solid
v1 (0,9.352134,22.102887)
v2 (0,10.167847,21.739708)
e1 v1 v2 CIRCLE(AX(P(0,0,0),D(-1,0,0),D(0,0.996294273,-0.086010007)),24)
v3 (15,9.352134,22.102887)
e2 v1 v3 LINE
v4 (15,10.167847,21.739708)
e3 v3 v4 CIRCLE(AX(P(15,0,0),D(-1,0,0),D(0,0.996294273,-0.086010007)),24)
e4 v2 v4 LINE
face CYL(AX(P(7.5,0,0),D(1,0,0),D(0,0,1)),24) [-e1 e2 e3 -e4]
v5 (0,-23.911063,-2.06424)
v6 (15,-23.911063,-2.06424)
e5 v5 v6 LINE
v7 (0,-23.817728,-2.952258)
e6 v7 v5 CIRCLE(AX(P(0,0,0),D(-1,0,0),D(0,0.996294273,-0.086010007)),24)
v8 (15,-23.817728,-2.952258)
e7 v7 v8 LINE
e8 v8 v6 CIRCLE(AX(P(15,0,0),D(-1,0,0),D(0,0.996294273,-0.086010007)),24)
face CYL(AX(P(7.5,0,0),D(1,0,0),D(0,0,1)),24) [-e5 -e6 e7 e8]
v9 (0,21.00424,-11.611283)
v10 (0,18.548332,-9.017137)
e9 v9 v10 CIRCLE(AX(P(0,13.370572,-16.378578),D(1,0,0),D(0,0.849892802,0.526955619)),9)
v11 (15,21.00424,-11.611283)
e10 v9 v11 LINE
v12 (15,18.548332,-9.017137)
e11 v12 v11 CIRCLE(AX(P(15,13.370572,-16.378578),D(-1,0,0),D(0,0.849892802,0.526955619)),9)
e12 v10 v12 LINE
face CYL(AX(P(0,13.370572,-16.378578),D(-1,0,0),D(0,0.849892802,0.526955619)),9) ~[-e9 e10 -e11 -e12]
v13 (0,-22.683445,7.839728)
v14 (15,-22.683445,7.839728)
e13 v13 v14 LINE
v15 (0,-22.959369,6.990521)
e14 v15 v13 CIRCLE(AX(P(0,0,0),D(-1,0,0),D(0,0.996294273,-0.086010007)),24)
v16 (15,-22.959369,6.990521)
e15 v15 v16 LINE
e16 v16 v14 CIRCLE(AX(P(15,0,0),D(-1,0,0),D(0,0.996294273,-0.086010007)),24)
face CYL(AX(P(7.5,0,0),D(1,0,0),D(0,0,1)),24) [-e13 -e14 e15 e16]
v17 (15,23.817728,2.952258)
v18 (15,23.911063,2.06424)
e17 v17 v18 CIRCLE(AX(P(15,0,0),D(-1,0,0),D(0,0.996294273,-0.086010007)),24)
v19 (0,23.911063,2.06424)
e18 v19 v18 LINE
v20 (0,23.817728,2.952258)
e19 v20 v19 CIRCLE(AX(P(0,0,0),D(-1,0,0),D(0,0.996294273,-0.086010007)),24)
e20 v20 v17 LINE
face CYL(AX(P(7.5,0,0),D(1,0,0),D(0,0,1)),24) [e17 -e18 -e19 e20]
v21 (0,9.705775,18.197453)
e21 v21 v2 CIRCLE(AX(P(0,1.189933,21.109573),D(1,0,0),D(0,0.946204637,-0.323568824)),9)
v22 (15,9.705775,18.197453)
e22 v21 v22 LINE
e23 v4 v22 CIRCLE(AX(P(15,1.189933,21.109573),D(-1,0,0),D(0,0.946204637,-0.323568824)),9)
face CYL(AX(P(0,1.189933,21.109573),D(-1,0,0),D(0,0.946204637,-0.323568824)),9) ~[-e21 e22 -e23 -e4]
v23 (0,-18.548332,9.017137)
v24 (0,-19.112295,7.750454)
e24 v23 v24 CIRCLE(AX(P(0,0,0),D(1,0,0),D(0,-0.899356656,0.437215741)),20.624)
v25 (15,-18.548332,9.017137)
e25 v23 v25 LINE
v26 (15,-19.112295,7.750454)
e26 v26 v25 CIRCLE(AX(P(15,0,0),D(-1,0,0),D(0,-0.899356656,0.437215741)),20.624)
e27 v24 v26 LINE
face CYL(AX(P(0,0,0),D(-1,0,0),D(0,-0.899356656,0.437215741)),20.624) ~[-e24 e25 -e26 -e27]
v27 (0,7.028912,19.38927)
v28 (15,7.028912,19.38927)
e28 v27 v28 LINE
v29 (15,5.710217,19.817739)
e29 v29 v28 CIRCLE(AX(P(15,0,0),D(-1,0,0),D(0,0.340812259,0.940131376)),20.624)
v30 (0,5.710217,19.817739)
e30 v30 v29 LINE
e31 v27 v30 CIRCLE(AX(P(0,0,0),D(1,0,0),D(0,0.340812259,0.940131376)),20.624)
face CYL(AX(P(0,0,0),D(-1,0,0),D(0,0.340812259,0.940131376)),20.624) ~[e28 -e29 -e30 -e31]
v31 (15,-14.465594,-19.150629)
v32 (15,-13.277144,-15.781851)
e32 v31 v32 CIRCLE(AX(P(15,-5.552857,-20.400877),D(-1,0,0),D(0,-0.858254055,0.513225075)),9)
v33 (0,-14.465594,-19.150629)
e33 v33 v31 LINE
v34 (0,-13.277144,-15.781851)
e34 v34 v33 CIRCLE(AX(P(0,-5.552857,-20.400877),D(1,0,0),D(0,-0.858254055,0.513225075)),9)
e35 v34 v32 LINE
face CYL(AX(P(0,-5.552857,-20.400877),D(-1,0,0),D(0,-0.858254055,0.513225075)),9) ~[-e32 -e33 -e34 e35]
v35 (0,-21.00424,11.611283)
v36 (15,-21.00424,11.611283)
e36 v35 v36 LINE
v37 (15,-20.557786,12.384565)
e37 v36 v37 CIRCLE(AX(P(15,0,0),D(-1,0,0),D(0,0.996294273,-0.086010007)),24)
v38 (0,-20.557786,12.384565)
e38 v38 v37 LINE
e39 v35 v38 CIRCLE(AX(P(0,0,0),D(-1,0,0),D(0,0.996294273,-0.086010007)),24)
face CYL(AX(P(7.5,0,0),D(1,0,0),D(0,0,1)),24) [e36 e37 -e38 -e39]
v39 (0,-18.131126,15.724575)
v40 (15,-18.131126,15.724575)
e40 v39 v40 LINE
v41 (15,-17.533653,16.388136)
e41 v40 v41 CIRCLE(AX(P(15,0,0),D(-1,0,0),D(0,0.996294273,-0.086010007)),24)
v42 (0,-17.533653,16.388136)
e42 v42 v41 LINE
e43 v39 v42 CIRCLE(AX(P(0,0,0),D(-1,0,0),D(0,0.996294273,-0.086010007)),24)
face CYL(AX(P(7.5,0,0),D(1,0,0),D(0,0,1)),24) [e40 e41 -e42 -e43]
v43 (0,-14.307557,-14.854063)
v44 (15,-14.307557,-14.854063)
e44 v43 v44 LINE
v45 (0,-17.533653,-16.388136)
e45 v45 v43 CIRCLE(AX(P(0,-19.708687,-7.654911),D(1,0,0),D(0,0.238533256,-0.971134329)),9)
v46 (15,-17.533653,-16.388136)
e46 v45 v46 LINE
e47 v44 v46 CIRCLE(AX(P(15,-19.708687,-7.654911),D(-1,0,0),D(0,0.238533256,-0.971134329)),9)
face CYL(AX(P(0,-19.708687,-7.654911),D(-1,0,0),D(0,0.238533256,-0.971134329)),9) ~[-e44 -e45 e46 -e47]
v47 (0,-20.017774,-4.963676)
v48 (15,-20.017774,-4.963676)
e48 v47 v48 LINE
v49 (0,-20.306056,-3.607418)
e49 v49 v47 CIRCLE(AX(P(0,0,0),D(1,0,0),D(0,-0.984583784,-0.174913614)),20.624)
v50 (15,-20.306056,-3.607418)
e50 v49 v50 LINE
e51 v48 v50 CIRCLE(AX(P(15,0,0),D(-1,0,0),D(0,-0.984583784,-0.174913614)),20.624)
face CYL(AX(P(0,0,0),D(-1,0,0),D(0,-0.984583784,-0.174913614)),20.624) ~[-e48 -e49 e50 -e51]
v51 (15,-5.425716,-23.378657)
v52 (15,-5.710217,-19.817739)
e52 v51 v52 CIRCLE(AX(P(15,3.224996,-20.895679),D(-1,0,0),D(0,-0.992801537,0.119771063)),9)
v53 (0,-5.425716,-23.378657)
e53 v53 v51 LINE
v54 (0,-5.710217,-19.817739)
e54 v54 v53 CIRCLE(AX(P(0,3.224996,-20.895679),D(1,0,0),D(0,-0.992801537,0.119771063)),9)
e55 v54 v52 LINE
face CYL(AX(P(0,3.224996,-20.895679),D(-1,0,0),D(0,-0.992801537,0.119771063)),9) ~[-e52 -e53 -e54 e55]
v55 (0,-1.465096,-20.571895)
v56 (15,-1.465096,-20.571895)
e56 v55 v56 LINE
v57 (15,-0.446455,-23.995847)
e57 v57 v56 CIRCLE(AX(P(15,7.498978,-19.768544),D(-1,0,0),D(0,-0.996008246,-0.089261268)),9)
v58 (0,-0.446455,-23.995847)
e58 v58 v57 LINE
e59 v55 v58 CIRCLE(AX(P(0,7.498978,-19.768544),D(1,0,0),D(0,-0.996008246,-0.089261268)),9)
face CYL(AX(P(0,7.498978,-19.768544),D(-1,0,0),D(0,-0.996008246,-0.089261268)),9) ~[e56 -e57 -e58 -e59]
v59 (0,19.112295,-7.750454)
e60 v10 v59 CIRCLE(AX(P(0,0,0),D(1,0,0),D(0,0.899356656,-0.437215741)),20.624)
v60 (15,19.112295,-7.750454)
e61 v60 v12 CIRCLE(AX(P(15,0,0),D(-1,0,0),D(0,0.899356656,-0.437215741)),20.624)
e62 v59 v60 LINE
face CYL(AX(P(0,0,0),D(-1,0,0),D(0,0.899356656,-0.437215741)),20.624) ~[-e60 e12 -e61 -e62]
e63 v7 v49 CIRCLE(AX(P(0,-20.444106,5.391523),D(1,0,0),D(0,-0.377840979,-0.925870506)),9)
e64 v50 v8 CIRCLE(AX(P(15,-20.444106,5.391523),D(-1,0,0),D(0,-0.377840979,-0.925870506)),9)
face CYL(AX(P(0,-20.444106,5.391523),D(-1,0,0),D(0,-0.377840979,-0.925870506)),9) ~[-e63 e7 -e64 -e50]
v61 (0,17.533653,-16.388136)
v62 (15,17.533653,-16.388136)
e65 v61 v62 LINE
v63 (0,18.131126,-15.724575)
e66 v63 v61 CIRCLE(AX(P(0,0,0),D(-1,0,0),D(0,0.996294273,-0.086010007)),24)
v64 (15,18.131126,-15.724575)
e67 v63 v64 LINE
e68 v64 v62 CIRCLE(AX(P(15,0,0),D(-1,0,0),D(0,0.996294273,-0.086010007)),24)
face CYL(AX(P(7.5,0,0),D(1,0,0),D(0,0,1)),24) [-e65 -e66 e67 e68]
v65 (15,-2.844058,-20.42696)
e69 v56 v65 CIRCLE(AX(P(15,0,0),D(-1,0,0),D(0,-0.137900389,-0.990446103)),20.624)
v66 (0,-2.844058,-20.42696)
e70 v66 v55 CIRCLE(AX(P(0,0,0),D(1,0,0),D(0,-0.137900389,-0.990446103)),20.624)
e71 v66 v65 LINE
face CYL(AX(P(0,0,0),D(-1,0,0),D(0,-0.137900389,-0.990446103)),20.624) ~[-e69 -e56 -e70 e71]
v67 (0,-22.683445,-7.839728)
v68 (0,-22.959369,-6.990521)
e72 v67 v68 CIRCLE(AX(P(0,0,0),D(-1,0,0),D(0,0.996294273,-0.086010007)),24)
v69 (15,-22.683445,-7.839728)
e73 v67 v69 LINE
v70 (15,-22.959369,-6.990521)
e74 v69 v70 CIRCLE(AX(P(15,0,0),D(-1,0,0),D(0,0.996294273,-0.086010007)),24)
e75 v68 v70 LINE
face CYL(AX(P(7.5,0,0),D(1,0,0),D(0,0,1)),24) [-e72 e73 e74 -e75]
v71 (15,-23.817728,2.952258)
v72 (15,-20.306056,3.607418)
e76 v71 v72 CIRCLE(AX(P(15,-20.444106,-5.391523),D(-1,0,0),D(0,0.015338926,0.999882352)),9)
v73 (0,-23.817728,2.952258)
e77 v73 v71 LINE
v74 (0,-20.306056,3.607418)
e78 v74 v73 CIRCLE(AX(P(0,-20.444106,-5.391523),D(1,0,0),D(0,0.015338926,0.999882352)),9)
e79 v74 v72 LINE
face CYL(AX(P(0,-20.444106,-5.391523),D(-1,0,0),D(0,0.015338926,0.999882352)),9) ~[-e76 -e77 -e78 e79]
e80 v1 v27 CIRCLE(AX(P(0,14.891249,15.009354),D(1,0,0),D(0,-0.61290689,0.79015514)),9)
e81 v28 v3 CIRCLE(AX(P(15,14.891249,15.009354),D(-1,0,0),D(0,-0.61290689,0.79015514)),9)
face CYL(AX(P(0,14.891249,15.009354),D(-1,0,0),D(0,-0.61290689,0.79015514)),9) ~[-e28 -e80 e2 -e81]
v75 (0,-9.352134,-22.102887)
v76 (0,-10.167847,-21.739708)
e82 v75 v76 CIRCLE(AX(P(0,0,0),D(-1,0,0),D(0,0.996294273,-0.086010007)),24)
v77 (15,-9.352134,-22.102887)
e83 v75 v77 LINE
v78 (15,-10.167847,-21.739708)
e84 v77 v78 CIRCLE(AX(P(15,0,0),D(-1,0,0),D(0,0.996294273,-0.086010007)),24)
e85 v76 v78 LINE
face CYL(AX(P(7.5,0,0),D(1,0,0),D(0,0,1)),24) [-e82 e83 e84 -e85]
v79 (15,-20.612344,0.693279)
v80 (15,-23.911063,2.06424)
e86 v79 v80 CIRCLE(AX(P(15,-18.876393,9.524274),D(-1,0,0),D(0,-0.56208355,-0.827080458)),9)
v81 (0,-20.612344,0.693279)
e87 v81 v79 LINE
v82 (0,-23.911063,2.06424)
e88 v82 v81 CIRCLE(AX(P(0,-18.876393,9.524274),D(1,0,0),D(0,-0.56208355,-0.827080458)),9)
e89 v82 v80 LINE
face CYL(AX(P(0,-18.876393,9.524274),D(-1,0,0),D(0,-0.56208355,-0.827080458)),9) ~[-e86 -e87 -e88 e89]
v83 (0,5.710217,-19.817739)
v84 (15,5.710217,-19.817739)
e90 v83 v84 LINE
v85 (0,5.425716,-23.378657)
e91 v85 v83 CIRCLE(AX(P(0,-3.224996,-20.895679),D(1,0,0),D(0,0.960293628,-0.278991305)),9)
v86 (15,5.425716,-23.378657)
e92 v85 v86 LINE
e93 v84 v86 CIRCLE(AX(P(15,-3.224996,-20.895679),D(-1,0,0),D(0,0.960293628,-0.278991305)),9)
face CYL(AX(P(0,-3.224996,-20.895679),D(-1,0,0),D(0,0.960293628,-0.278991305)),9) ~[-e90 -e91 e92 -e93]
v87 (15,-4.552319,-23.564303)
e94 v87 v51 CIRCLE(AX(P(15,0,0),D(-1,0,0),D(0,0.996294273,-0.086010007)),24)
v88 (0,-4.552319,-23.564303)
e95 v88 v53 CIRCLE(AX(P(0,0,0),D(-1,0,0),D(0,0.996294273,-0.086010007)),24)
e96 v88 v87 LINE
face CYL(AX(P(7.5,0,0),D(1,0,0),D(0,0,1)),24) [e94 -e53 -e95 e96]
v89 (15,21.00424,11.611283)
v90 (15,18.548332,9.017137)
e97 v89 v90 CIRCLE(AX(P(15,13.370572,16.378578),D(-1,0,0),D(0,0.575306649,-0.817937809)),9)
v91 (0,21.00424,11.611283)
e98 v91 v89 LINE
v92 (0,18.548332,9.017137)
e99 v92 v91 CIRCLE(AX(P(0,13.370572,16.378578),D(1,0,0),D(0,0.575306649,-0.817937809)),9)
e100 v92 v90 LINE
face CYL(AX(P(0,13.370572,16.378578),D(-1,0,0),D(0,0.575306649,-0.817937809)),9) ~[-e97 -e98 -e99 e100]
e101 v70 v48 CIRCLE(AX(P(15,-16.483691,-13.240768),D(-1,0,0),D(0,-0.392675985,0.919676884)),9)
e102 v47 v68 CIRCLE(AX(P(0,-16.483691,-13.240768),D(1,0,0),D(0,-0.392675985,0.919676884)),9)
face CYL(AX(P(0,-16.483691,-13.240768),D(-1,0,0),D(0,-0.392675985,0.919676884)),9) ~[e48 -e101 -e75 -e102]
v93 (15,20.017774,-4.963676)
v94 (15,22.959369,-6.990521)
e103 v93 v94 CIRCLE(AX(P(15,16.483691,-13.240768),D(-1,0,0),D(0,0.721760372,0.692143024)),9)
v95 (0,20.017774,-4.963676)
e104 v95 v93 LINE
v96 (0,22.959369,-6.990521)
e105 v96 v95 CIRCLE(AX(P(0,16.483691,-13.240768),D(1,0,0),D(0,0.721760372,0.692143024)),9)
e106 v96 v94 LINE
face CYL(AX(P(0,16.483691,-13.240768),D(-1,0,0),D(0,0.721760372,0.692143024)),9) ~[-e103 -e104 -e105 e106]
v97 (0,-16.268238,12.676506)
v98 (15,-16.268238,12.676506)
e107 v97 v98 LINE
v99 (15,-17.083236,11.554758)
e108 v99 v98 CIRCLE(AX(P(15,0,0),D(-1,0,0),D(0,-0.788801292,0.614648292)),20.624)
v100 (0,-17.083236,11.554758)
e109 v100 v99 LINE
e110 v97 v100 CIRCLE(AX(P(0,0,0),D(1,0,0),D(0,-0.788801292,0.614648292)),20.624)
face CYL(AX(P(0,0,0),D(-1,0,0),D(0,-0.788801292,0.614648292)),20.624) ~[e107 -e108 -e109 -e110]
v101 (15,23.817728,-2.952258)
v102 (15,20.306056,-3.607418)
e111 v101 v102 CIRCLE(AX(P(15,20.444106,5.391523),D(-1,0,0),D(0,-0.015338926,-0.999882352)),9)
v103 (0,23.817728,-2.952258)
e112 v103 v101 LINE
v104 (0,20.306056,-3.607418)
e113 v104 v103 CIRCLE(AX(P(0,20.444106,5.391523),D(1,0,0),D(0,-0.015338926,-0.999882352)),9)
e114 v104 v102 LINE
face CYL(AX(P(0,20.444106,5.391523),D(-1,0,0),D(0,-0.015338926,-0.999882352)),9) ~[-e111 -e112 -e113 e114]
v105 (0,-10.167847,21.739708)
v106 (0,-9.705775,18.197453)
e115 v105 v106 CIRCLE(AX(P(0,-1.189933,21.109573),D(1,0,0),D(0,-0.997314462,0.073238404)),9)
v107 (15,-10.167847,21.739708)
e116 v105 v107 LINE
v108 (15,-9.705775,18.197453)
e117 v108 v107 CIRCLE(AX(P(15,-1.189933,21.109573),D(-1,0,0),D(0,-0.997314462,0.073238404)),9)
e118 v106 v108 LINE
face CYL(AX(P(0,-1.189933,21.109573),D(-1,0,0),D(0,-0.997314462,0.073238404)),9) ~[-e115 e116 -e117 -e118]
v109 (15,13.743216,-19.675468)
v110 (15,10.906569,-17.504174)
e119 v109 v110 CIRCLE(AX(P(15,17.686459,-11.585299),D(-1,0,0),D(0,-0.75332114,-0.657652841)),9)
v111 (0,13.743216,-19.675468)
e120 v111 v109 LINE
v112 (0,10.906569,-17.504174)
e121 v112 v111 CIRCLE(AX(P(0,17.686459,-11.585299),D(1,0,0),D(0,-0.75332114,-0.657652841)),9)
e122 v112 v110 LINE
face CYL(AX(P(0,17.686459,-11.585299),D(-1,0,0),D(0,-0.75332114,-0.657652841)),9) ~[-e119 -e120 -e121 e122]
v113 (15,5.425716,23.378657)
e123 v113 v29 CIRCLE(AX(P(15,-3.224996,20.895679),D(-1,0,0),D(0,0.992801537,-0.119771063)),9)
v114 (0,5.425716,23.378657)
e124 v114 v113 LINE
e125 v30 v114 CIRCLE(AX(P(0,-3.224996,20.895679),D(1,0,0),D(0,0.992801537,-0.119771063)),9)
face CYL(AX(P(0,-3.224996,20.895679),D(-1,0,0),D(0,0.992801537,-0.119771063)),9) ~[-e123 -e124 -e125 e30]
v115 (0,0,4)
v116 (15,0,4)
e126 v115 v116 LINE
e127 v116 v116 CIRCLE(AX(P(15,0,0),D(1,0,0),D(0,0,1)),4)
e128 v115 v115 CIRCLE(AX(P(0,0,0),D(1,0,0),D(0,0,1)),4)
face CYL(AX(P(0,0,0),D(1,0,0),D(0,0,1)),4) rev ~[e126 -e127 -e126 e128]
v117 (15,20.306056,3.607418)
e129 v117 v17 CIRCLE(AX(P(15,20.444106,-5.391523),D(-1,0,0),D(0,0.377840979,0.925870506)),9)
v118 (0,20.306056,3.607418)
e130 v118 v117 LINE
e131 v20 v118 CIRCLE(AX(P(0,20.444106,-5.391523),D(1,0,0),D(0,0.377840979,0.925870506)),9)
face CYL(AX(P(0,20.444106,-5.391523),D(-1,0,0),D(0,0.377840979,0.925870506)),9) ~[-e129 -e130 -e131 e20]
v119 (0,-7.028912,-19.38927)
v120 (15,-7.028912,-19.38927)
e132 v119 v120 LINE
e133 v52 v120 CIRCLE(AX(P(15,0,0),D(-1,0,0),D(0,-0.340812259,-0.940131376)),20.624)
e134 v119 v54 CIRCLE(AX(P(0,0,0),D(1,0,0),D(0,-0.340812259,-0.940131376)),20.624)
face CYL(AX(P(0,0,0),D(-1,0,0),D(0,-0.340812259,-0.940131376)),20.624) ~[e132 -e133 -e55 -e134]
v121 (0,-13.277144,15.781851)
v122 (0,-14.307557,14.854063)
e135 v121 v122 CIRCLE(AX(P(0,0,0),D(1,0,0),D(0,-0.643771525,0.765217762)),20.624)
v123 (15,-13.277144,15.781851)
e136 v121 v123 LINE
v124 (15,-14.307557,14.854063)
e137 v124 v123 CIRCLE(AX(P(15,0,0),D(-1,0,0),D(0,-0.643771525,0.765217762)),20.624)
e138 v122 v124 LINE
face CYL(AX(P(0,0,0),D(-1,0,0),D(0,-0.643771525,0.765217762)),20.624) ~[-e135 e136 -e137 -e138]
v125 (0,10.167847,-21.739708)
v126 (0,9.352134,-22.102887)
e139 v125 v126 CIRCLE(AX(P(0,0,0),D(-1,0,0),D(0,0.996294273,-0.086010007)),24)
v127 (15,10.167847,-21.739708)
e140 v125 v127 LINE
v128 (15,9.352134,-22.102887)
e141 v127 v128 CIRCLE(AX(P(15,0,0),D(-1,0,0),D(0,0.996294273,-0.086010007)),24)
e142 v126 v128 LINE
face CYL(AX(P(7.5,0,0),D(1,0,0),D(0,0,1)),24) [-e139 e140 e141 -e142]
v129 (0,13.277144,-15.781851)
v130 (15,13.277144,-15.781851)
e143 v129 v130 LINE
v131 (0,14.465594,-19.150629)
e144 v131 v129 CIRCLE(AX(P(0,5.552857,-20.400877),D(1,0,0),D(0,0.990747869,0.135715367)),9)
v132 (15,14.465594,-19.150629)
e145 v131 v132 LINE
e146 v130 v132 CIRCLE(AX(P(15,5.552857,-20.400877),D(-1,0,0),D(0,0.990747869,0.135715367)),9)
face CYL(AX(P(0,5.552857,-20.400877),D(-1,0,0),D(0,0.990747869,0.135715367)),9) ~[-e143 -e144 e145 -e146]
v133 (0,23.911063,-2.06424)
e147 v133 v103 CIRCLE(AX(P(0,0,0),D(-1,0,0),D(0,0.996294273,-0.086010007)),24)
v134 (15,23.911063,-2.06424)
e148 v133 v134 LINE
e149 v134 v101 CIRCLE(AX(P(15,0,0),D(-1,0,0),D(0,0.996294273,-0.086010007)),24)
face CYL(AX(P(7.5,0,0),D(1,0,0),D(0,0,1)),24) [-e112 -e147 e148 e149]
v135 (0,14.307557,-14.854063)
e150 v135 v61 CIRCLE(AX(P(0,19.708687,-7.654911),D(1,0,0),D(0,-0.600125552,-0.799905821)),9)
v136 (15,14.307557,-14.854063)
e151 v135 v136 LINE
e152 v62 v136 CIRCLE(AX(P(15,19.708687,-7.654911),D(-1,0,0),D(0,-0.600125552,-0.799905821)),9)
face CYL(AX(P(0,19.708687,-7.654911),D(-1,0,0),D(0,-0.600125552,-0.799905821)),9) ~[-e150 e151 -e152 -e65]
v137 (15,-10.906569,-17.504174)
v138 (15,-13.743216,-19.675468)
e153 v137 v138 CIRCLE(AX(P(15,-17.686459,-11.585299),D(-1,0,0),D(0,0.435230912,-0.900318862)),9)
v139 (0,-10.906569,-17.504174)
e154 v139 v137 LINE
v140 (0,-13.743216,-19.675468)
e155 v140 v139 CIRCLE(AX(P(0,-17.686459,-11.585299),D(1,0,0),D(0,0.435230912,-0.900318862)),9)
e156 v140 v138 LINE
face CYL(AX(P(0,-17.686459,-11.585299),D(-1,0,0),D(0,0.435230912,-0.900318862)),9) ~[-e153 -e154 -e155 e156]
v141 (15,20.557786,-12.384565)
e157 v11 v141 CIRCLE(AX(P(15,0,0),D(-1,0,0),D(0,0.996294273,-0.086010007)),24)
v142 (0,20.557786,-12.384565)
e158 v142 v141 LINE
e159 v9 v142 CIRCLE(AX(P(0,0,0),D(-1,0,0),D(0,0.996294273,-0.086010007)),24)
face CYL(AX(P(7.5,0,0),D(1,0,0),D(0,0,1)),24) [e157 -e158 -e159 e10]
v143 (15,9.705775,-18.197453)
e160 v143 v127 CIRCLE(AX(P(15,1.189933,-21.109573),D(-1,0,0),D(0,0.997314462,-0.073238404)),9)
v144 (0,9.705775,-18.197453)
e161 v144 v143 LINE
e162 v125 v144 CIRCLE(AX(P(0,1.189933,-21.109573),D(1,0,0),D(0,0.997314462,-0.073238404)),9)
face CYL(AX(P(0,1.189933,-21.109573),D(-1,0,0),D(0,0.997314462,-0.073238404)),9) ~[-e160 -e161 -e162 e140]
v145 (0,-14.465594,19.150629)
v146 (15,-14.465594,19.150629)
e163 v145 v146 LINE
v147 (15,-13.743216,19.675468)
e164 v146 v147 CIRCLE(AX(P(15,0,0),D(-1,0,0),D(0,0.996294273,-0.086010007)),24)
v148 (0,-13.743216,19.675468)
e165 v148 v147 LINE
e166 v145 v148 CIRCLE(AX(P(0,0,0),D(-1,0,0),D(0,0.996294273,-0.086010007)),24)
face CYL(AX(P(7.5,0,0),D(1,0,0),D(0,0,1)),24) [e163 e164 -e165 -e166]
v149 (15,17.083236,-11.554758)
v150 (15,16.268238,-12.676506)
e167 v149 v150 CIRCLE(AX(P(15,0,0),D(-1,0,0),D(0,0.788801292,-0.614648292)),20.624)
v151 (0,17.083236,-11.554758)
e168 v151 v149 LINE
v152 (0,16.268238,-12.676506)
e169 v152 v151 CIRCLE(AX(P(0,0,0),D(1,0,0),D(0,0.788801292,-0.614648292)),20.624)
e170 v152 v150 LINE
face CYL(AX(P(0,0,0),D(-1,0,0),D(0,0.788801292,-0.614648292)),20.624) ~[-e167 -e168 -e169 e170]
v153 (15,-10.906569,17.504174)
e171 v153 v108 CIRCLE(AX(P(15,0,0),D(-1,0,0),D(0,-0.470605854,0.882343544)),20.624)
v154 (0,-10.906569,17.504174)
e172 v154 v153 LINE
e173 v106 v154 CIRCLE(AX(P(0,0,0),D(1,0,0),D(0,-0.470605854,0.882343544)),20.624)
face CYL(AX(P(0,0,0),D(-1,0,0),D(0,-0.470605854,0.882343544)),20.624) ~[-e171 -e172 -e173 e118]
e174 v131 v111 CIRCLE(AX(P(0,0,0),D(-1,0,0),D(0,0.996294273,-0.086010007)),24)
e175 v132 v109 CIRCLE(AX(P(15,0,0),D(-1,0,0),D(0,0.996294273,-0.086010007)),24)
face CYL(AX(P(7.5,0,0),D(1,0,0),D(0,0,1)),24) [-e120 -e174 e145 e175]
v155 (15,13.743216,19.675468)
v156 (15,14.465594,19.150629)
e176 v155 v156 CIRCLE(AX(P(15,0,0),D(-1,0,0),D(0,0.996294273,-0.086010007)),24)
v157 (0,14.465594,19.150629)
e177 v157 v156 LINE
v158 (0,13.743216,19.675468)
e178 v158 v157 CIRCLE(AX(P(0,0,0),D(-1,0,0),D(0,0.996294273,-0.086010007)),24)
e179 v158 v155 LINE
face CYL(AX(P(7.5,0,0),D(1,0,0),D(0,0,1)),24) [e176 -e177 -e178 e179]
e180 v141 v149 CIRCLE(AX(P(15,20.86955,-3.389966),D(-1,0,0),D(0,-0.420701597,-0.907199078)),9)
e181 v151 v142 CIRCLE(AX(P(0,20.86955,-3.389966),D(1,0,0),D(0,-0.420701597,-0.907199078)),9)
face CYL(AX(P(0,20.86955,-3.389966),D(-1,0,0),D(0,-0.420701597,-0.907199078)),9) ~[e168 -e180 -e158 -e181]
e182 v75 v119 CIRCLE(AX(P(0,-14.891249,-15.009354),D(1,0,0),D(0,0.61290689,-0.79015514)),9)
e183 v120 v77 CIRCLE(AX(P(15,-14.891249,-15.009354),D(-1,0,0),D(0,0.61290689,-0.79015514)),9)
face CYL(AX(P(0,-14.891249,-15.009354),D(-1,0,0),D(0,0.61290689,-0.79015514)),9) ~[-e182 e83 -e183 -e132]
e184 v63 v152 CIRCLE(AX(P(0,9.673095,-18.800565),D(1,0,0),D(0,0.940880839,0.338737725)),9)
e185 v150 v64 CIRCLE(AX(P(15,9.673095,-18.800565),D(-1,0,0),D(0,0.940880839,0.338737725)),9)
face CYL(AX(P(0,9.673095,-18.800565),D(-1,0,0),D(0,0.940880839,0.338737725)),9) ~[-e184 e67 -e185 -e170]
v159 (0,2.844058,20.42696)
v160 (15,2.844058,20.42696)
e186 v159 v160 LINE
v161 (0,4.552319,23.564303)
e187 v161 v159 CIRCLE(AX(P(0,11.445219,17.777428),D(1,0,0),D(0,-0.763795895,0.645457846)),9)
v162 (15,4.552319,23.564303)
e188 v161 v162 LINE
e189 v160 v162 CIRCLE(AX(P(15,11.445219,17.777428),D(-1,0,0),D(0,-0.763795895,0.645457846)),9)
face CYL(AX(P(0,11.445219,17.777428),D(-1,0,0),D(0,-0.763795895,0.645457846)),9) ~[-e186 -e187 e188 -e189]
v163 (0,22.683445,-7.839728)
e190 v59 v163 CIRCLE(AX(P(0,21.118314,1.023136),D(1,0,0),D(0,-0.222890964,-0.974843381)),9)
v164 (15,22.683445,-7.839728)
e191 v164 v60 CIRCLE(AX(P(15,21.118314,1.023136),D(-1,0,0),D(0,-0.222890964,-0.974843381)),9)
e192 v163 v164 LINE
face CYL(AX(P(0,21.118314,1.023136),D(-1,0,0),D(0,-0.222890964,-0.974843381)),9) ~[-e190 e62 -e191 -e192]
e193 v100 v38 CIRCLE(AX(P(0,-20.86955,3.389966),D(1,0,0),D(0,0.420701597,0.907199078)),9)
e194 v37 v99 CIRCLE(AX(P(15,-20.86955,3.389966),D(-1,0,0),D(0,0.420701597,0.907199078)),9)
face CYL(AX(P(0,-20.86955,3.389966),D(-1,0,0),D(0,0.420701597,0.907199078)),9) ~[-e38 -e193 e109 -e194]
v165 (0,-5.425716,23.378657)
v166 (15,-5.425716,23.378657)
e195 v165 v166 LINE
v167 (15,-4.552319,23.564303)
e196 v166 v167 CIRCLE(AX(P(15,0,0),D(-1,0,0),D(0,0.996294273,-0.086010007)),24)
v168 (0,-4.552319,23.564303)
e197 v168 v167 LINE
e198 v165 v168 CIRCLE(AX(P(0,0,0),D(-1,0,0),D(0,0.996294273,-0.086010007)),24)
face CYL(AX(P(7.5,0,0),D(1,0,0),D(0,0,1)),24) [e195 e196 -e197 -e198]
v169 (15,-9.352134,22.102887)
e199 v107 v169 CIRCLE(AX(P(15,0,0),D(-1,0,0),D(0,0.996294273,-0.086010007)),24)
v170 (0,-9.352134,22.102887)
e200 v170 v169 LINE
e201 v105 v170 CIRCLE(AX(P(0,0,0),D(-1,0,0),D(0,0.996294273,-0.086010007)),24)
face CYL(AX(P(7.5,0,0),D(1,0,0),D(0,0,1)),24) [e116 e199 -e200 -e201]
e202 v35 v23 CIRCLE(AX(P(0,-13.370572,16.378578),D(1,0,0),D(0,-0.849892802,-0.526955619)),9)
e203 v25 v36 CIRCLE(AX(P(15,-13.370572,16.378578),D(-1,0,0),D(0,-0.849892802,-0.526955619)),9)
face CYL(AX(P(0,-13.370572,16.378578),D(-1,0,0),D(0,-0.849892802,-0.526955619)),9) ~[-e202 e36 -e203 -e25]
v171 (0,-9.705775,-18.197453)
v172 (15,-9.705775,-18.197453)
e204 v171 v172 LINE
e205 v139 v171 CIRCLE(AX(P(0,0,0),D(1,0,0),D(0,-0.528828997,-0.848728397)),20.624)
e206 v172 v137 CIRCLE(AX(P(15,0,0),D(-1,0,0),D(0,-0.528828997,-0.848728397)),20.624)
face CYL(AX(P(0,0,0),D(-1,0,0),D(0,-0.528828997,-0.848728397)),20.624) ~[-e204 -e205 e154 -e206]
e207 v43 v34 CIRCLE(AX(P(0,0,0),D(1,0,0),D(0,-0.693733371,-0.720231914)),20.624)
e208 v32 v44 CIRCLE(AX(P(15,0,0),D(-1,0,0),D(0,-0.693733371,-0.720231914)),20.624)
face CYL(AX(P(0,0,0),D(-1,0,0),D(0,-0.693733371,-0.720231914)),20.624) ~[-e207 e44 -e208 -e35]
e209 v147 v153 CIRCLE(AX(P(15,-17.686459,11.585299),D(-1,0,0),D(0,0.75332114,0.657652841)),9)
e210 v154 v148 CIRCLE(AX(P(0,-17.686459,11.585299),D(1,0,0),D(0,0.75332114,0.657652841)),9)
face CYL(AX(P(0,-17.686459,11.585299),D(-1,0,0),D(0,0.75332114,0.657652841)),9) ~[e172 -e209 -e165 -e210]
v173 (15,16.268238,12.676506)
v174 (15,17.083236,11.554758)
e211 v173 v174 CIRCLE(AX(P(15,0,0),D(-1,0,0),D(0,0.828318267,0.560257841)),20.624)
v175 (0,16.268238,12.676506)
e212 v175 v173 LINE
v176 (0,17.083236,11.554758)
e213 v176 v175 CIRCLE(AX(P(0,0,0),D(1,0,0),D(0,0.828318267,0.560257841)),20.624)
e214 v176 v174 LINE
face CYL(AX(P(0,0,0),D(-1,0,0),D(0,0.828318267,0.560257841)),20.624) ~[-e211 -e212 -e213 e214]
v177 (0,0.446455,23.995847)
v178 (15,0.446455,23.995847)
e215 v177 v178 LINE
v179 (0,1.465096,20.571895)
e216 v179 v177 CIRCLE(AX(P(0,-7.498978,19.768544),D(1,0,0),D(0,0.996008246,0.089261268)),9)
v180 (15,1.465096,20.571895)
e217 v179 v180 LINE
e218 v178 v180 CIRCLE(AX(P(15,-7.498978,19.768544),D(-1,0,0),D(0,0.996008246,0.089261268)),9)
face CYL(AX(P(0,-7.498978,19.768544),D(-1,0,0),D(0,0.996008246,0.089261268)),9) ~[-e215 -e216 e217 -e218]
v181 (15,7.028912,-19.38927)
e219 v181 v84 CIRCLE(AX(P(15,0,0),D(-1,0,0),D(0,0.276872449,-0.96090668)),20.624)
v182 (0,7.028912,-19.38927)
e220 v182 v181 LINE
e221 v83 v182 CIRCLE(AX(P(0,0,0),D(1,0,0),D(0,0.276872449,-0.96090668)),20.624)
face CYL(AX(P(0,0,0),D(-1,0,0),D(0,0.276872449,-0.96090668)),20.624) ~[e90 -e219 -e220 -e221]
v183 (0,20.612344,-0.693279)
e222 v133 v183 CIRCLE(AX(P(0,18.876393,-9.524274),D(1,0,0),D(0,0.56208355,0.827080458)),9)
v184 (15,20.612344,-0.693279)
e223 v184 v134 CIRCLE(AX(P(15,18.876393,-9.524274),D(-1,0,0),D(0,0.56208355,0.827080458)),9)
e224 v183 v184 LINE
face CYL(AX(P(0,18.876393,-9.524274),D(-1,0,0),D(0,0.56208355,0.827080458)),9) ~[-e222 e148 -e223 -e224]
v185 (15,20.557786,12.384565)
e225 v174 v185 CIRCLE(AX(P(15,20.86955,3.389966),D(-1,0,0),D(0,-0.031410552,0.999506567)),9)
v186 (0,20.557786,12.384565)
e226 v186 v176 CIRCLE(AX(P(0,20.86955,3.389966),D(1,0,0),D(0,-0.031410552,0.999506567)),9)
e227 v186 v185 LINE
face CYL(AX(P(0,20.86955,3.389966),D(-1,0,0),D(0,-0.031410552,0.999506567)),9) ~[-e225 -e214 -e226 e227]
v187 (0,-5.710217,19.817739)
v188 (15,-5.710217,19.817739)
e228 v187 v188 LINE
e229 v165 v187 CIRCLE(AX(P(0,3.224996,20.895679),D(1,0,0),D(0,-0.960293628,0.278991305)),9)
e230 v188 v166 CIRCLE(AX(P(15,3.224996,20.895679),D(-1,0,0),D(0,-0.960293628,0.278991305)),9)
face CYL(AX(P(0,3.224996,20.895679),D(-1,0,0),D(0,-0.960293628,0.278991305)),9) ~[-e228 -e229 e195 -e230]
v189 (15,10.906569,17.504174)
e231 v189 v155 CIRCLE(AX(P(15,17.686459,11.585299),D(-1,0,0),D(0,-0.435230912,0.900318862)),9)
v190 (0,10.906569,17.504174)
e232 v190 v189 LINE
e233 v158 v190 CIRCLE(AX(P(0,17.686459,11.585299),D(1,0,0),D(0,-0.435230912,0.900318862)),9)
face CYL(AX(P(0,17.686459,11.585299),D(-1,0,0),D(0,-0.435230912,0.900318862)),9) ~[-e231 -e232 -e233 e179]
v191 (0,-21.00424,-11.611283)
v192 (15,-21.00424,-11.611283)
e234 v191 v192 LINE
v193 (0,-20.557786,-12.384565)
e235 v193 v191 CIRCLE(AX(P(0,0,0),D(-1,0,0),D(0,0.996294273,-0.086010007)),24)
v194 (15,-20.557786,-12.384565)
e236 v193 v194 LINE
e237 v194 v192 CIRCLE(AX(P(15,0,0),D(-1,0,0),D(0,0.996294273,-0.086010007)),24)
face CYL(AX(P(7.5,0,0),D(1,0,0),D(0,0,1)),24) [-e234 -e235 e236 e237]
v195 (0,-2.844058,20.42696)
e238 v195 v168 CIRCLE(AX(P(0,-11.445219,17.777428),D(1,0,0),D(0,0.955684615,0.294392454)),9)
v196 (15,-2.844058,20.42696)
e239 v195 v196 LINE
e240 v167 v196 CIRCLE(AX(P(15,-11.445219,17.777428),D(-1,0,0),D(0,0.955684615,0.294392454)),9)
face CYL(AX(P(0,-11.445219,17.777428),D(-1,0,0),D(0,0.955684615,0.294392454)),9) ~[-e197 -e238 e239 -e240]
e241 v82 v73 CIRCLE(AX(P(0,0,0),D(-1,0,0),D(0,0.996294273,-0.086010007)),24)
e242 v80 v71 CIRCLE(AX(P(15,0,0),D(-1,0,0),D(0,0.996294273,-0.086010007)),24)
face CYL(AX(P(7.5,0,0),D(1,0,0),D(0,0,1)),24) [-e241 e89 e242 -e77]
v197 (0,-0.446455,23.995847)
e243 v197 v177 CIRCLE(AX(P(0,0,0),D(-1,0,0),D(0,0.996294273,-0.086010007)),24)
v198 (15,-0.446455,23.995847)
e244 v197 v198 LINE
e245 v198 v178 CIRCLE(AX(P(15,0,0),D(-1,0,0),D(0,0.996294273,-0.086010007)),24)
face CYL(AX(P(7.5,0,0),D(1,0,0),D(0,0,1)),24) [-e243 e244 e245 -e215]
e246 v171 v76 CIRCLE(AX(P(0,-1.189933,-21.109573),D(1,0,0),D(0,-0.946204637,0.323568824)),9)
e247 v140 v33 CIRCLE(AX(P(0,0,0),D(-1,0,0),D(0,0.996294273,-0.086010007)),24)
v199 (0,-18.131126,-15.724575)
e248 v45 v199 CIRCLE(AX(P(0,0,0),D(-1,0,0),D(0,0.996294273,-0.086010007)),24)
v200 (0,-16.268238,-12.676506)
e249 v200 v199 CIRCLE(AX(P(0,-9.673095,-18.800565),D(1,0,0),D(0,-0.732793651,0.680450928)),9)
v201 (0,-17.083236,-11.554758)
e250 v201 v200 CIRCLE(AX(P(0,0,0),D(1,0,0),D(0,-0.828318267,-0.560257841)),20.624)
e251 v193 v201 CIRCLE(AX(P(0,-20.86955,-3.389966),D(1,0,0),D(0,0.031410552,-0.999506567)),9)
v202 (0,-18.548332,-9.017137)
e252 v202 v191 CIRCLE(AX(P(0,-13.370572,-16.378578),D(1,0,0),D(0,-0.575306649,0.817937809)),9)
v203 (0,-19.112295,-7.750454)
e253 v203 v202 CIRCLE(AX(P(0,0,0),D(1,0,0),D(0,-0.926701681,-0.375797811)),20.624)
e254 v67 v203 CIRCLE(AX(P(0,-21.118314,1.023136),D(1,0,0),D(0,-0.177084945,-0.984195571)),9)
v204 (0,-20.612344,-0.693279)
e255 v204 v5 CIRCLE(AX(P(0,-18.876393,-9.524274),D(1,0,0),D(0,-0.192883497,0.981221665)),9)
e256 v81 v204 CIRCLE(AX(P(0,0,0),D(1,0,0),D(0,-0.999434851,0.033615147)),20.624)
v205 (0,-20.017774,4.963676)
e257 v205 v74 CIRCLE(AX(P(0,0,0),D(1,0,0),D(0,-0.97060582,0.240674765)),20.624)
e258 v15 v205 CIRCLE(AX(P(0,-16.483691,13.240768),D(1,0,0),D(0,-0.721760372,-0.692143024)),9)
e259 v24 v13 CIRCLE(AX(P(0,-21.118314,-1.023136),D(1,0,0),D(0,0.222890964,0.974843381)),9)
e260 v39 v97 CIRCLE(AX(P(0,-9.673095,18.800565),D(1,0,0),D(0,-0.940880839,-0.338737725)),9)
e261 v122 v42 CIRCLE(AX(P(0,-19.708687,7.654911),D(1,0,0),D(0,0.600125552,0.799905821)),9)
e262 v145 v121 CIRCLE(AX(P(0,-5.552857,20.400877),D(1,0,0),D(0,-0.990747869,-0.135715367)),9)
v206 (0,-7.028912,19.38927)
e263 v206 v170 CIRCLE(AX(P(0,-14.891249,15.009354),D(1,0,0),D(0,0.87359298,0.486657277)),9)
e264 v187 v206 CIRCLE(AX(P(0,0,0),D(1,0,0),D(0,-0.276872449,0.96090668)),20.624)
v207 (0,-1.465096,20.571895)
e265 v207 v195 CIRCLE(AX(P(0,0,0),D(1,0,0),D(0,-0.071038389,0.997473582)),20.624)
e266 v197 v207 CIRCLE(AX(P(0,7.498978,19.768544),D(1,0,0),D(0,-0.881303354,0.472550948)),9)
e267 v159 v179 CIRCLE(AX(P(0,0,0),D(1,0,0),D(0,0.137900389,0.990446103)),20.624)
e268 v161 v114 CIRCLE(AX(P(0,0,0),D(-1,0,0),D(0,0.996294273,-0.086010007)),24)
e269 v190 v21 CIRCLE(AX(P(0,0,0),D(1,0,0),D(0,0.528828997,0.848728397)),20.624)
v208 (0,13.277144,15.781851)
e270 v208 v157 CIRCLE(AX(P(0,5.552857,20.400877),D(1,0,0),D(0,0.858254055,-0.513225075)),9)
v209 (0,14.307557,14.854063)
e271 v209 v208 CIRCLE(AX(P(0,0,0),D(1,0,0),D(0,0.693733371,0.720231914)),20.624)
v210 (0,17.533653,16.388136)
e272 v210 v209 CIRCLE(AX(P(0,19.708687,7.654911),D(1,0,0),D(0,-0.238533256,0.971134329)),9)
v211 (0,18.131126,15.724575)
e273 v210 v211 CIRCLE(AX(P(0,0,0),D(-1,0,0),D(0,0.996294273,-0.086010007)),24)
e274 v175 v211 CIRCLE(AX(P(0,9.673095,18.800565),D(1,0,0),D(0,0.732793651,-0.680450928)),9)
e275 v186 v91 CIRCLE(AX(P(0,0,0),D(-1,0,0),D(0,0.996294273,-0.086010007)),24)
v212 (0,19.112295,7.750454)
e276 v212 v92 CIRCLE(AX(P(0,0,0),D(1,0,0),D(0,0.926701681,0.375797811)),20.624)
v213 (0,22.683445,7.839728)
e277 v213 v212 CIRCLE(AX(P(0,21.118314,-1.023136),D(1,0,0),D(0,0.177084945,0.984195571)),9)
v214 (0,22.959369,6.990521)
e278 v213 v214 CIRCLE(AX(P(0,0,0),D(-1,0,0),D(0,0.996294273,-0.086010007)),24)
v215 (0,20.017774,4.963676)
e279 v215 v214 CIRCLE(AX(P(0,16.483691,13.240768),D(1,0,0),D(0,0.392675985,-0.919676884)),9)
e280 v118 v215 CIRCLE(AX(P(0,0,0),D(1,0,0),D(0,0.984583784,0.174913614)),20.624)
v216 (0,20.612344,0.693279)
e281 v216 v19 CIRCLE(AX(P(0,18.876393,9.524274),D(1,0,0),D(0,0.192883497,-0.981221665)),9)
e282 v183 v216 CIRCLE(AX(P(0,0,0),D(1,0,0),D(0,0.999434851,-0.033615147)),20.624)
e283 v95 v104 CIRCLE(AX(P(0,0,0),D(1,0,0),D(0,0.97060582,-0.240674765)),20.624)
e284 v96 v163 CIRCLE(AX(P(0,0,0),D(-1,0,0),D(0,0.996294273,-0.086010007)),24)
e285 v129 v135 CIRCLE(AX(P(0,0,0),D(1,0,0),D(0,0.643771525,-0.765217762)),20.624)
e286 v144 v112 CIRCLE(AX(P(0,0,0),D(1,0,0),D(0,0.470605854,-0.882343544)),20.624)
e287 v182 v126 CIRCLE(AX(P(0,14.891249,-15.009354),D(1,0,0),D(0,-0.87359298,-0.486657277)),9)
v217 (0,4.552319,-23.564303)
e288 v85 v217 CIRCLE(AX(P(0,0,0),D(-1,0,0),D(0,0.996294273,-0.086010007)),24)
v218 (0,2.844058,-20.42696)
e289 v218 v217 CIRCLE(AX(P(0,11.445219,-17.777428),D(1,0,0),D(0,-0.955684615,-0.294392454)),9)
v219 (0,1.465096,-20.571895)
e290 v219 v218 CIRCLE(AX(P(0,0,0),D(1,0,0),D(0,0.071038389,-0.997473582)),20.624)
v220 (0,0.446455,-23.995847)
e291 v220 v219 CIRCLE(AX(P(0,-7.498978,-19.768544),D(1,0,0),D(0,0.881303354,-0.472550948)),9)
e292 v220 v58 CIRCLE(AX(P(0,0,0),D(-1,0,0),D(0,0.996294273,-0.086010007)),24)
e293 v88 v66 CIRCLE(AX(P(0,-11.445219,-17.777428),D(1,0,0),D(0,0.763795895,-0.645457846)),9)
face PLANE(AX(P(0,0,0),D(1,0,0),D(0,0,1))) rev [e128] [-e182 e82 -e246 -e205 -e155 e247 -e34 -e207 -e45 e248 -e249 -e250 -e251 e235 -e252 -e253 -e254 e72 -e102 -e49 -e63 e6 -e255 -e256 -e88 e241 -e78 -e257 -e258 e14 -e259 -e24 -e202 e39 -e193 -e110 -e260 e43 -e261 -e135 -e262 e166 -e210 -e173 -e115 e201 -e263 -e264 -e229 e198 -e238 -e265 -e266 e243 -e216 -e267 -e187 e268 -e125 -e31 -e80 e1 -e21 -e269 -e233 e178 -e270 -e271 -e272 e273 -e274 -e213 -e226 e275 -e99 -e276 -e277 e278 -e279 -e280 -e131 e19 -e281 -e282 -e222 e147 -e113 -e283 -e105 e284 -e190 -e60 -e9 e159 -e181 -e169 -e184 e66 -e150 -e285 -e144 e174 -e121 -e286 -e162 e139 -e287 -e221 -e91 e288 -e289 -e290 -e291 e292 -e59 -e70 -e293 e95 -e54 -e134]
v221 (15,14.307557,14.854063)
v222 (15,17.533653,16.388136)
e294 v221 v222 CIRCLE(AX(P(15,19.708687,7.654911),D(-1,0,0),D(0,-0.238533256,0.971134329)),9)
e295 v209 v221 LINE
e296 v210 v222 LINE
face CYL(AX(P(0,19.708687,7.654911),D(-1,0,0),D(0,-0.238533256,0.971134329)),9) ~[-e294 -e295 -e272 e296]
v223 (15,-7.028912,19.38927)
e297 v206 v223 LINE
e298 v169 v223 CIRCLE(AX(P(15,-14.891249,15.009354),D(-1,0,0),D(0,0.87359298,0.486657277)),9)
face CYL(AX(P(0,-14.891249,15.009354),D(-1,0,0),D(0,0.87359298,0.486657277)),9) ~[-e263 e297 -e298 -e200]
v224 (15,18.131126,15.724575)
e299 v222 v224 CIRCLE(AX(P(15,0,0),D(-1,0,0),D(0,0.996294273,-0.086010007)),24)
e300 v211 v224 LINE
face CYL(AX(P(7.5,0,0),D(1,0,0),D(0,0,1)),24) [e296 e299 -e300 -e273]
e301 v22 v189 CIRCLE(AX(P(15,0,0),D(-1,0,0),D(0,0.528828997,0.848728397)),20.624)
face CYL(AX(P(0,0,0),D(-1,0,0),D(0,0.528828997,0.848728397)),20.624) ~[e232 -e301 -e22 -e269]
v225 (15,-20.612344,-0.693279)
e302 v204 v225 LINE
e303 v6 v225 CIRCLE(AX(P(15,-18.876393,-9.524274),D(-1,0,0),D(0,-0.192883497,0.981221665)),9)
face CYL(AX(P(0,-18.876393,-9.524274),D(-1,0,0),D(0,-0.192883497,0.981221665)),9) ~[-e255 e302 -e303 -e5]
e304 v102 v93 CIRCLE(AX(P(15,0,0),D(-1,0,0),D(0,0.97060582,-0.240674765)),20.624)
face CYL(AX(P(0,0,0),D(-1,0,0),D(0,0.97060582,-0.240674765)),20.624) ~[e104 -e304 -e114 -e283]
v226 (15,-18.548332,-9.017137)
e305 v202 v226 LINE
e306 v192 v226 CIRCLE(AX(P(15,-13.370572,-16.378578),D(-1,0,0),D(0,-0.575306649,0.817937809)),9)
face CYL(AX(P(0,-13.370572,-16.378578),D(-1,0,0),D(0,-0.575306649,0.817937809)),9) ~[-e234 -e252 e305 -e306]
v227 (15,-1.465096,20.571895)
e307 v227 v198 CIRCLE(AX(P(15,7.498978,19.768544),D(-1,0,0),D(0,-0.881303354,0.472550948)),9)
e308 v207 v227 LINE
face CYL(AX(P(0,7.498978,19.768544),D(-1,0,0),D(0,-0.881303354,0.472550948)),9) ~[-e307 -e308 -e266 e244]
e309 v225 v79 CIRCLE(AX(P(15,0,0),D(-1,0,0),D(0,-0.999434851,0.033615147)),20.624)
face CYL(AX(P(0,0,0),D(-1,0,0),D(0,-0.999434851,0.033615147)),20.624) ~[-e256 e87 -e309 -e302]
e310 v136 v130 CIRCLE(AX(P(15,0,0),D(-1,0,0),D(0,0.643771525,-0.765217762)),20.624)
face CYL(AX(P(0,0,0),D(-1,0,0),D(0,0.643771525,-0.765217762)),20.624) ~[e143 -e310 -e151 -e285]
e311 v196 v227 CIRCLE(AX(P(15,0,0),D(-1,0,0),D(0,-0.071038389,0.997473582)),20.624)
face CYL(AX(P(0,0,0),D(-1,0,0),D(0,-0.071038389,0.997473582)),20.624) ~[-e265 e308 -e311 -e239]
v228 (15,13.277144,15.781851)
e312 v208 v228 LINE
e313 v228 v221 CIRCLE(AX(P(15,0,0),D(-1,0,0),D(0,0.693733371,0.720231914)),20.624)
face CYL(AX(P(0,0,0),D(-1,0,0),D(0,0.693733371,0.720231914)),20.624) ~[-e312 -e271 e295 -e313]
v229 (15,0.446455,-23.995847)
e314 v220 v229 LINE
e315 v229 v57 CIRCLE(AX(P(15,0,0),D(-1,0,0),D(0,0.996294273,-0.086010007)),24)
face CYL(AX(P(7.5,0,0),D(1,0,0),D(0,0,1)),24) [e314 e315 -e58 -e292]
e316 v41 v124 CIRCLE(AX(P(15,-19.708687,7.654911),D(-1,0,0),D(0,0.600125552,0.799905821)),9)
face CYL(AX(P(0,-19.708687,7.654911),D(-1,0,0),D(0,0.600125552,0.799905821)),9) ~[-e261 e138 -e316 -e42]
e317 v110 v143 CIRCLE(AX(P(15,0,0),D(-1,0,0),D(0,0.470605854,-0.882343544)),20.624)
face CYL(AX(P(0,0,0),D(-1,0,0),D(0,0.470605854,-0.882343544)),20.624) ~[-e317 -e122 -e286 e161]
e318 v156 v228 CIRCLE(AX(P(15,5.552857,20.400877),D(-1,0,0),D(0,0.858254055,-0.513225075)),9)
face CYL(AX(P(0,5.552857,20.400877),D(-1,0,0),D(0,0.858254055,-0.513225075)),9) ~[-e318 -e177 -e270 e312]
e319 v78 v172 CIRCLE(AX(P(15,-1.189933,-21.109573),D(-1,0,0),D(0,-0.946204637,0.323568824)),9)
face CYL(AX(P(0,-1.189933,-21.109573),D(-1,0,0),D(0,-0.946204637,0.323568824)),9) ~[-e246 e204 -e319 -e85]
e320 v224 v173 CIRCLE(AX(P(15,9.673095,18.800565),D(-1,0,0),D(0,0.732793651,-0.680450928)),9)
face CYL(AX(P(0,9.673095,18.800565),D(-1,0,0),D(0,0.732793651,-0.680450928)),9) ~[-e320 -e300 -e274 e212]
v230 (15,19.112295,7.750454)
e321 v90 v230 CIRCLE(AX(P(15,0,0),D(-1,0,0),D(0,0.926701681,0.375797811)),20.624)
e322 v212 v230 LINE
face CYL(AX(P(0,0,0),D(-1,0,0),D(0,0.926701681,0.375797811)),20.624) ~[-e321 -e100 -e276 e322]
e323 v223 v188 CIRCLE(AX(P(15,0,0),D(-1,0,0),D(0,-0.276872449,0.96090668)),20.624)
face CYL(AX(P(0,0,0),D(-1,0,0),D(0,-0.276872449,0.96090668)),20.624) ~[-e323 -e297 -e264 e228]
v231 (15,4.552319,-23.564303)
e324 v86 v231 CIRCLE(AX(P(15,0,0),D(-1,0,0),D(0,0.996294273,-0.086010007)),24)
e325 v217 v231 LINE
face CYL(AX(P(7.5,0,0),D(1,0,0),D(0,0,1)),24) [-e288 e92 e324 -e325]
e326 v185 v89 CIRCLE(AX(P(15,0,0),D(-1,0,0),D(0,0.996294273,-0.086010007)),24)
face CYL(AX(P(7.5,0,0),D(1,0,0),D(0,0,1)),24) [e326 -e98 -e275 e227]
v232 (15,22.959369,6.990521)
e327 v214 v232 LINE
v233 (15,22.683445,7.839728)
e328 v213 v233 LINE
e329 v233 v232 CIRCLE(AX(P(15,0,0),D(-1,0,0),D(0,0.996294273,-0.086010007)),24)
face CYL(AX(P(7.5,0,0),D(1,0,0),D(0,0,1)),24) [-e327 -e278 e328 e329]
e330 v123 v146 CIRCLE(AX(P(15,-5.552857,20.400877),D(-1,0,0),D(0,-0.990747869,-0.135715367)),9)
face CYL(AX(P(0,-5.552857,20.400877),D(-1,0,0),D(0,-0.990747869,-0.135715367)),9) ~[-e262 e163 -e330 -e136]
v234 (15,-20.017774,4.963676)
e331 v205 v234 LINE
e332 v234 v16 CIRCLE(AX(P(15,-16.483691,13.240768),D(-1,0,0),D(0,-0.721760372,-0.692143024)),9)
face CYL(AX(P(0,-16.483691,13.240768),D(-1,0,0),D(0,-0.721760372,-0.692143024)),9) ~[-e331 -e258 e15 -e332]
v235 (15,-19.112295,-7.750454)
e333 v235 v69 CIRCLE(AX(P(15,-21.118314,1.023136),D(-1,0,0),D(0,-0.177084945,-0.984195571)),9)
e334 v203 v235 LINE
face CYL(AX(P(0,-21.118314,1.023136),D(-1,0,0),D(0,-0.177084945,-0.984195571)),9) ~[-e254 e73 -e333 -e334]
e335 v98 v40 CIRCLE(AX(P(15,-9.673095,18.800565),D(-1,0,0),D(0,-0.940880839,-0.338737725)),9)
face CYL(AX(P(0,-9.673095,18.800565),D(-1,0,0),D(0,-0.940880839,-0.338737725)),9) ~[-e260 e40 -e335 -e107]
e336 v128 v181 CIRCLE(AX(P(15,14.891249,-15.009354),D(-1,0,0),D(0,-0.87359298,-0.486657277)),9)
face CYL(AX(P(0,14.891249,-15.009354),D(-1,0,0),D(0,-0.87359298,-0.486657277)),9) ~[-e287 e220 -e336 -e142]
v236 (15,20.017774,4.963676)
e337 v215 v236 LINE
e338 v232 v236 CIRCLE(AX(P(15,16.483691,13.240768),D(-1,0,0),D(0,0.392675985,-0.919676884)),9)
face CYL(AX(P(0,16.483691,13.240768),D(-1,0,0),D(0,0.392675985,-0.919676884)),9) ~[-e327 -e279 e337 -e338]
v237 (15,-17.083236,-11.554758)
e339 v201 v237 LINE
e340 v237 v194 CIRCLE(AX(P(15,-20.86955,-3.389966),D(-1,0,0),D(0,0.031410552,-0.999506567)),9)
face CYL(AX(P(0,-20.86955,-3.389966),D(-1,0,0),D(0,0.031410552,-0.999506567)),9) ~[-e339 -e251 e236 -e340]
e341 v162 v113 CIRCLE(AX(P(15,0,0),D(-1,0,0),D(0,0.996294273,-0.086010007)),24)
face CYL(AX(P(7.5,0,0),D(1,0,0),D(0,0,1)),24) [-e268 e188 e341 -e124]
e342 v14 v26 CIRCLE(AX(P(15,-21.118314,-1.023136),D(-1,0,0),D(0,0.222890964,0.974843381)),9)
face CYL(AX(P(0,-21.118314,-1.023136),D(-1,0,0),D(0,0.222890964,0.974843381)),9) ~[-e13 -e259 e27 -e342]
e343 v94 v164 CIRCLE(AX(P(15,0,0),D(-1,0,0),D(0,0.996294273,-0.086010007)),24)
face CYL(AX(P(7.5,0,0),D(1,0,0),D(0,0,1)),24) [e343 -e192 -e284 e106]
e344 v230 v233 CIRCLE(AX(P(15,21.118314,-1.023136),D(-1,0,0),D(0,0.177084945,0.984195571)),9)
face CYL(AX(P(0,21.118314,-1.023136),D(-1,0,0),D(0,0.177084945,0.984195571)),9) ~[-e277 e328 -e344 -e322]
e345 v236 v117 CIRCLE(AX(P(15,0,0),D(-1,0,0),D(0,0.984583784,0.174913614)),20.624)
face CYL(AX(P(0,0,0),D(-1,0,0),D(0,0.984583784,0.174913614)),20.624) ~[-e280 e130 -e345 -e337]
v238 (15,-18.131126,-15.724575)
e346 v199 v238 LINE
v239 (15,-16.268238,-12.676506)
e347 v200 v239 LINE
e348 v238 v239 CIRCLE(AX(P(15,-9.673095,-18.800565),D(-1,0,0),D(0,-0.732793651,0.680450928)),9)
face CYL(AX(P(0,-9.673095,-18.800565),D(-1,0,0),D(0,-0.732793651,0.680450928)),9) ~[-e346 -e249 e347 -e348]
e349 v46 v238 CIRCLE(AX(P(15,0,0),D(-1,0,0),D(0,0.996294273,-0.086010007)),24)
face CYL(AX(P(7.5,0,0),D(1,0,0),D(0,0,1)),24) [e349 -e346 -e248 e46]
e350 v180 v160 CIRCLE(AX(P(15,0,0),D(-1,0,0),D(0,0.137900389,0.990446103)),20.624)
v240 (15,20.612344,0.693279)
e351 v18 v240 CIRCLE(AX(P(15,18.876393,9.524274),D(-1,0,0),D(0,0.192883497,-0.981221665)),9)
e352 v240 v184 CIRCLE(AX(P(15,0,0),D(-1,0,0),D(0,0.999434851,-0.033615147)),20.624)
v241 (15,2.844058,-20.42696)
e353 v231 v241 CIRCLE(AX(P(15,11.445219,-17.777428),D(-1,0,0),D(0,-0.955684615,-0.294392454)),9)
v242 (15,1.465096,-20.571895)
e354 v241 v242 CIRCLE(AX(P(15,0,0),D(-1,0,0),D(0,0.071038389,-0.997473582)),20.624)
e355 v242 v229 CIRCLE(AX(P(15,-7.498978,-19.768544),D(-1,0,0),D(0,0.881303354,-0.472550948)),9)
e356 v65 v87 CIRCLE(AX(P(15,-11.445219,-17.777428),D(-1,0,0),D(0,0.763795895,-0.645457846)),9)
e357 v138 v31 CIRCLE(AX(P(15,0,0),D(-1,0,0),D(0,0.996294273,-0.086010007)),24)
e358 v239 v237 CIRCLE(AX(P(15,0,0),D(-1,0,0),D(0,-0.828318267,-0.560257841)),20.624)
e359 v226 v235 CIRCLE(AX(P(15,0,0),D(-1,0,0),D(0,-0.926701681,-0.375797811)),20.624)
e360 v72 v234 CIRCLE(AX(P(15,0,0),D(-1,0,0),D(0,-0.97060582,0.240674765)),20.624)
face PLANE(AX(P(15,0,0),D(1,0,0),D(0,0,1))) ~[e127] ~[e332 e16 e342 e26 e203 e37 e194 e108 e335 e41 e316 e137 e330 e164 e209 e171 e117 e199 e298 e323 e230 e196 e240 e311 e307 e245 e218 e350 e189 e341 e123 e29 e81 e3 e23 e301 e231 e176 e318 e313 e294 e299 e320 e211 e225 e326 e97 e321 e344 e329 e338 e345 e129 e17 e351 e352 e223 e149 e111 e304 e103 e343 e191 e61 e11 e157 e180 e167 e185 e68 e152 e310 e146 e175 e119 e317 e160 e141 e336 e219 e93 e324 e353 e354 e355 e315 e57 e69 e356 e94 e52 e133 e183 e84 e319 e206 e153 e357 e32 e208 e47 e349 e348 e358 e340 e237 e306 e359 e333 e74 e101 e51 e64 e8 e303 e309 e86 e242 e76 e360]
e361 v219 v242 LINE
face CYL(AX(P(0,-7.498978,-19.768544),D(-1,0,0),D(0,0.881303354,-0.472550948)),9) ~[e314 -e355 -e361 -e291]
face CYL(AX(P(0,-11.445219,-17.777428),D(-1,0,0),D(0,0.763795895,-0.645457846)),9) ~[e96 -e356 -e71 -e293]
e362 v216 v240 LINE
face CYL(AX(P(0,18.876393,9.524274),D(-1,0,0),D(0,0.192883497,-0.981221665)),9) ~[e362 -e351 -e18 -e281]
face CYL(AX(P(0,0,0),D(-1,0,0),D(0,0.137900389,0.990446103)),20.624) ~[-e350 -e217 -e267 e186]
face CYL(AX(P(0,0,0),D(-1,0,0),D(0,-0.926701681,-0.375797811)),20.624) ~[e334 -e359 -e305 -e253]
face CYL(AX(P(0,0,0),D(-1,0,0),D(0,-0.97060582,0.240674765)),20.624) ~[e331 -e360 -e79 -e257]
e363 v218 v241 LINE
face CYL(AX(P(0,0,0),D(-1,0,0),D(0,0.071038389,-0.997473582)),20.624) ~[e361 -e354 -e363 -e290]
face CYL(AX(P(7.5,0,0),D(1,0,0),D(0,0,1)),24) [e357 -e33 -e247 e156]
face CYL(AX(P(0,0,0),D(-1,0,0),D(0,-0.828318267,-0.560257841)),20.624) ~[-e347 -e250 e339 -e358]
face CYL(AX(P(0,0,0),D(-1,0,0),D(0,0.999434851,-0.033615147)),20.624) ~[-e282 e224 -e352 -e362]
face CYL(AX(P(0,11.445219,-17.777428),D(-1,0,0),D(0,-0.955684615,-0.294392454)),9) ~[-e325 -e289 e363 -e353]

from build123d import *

# Parameters (mm, degrees)
BASPROSKE_W     = 15
BASPROSKE_H     = 24
TOOTHCUT_DEPTH  = 38.107950631
TEETHCUTS_COUNT = 30
TEETHCUTS_ANGLE = 348
BORSKE_R        = 4
BORE_DEPTH      = 50.0000508


with BuildPart() as part:
    # BasProSke → Base-Revolve (revolve)
    with BuildSketch(Plane(origin=(0, 0, 0), x_dir=(1, 0, 0), z_dir=(0, 1, 0)), mode=Mode.PRIVATE) as base_revolve_sk:
        with Locations((7.5, 12)):
            Rectangle(BASPROSKE_W, BASPROSKE_H)
    revolve(base_revolve_sk.sketch.rotate(Axis((-10, 0, 0), (1, 0, 0)), 180), axis=Axis((-10, 0, 0), (1, 0, 0)))

    # TooCutSke → ToothCut (cut, through all)
    with BuildSketch(Plane(origin=(0, 0, 0), x_dir=(0, 0, -1), z_dir=(1, 0, 0))):
        with BuildLine():
            ThreePointArc((0.693278797, 20.612344372), (0, 20.624), (-0.693278797, 20.612344372))
            ThreePointArc((-0.693278797, 20.612344372), (-1.219042225, 22.34383125), (-2.080549663, 23.935144835))
            ThreePointArc((-2.080549663, 23.935144835), (0, 24.0254), (2.080549663, 23.935144835))
            ThreePointArc((2.080549663, 23.935144835), (1.219042225, 22.34383125), (0.693278797, 20.612344372))
        make_face()
    toothcut = extrude(amount=TOOTHCUT_DEPTH, mode=Mode.SUBTRACT)

    # TeethCuts: ToothCut ×30 about axis
    teethcuts_axis = Axis((-10, 0, 0), (1, 0, 0))
    for i in range(1, TEETHCUTS_COUNT):
        add(toothcut.rotate(teethcuts_axis, i * TEETHCUTS_ANGLE / (TEETHCUTS_COUNT - 1)), mode=Mode.SUBTRACT)

    # BorSke → Bore (cut, symmetric)
    with BuildSketch(Plane(origin=(0, 0, 0), x_dir=(0, 0, -1), z_dir=(1, 0, 0))):
        with Locations(Location((0, 0, 0), (0, 0, 180))):
            Circle(BORSKE_R)
    extrude(amount=BORE_DEPTH, both=True, mode=Mode.SUBTRACT)


solid = part.part
